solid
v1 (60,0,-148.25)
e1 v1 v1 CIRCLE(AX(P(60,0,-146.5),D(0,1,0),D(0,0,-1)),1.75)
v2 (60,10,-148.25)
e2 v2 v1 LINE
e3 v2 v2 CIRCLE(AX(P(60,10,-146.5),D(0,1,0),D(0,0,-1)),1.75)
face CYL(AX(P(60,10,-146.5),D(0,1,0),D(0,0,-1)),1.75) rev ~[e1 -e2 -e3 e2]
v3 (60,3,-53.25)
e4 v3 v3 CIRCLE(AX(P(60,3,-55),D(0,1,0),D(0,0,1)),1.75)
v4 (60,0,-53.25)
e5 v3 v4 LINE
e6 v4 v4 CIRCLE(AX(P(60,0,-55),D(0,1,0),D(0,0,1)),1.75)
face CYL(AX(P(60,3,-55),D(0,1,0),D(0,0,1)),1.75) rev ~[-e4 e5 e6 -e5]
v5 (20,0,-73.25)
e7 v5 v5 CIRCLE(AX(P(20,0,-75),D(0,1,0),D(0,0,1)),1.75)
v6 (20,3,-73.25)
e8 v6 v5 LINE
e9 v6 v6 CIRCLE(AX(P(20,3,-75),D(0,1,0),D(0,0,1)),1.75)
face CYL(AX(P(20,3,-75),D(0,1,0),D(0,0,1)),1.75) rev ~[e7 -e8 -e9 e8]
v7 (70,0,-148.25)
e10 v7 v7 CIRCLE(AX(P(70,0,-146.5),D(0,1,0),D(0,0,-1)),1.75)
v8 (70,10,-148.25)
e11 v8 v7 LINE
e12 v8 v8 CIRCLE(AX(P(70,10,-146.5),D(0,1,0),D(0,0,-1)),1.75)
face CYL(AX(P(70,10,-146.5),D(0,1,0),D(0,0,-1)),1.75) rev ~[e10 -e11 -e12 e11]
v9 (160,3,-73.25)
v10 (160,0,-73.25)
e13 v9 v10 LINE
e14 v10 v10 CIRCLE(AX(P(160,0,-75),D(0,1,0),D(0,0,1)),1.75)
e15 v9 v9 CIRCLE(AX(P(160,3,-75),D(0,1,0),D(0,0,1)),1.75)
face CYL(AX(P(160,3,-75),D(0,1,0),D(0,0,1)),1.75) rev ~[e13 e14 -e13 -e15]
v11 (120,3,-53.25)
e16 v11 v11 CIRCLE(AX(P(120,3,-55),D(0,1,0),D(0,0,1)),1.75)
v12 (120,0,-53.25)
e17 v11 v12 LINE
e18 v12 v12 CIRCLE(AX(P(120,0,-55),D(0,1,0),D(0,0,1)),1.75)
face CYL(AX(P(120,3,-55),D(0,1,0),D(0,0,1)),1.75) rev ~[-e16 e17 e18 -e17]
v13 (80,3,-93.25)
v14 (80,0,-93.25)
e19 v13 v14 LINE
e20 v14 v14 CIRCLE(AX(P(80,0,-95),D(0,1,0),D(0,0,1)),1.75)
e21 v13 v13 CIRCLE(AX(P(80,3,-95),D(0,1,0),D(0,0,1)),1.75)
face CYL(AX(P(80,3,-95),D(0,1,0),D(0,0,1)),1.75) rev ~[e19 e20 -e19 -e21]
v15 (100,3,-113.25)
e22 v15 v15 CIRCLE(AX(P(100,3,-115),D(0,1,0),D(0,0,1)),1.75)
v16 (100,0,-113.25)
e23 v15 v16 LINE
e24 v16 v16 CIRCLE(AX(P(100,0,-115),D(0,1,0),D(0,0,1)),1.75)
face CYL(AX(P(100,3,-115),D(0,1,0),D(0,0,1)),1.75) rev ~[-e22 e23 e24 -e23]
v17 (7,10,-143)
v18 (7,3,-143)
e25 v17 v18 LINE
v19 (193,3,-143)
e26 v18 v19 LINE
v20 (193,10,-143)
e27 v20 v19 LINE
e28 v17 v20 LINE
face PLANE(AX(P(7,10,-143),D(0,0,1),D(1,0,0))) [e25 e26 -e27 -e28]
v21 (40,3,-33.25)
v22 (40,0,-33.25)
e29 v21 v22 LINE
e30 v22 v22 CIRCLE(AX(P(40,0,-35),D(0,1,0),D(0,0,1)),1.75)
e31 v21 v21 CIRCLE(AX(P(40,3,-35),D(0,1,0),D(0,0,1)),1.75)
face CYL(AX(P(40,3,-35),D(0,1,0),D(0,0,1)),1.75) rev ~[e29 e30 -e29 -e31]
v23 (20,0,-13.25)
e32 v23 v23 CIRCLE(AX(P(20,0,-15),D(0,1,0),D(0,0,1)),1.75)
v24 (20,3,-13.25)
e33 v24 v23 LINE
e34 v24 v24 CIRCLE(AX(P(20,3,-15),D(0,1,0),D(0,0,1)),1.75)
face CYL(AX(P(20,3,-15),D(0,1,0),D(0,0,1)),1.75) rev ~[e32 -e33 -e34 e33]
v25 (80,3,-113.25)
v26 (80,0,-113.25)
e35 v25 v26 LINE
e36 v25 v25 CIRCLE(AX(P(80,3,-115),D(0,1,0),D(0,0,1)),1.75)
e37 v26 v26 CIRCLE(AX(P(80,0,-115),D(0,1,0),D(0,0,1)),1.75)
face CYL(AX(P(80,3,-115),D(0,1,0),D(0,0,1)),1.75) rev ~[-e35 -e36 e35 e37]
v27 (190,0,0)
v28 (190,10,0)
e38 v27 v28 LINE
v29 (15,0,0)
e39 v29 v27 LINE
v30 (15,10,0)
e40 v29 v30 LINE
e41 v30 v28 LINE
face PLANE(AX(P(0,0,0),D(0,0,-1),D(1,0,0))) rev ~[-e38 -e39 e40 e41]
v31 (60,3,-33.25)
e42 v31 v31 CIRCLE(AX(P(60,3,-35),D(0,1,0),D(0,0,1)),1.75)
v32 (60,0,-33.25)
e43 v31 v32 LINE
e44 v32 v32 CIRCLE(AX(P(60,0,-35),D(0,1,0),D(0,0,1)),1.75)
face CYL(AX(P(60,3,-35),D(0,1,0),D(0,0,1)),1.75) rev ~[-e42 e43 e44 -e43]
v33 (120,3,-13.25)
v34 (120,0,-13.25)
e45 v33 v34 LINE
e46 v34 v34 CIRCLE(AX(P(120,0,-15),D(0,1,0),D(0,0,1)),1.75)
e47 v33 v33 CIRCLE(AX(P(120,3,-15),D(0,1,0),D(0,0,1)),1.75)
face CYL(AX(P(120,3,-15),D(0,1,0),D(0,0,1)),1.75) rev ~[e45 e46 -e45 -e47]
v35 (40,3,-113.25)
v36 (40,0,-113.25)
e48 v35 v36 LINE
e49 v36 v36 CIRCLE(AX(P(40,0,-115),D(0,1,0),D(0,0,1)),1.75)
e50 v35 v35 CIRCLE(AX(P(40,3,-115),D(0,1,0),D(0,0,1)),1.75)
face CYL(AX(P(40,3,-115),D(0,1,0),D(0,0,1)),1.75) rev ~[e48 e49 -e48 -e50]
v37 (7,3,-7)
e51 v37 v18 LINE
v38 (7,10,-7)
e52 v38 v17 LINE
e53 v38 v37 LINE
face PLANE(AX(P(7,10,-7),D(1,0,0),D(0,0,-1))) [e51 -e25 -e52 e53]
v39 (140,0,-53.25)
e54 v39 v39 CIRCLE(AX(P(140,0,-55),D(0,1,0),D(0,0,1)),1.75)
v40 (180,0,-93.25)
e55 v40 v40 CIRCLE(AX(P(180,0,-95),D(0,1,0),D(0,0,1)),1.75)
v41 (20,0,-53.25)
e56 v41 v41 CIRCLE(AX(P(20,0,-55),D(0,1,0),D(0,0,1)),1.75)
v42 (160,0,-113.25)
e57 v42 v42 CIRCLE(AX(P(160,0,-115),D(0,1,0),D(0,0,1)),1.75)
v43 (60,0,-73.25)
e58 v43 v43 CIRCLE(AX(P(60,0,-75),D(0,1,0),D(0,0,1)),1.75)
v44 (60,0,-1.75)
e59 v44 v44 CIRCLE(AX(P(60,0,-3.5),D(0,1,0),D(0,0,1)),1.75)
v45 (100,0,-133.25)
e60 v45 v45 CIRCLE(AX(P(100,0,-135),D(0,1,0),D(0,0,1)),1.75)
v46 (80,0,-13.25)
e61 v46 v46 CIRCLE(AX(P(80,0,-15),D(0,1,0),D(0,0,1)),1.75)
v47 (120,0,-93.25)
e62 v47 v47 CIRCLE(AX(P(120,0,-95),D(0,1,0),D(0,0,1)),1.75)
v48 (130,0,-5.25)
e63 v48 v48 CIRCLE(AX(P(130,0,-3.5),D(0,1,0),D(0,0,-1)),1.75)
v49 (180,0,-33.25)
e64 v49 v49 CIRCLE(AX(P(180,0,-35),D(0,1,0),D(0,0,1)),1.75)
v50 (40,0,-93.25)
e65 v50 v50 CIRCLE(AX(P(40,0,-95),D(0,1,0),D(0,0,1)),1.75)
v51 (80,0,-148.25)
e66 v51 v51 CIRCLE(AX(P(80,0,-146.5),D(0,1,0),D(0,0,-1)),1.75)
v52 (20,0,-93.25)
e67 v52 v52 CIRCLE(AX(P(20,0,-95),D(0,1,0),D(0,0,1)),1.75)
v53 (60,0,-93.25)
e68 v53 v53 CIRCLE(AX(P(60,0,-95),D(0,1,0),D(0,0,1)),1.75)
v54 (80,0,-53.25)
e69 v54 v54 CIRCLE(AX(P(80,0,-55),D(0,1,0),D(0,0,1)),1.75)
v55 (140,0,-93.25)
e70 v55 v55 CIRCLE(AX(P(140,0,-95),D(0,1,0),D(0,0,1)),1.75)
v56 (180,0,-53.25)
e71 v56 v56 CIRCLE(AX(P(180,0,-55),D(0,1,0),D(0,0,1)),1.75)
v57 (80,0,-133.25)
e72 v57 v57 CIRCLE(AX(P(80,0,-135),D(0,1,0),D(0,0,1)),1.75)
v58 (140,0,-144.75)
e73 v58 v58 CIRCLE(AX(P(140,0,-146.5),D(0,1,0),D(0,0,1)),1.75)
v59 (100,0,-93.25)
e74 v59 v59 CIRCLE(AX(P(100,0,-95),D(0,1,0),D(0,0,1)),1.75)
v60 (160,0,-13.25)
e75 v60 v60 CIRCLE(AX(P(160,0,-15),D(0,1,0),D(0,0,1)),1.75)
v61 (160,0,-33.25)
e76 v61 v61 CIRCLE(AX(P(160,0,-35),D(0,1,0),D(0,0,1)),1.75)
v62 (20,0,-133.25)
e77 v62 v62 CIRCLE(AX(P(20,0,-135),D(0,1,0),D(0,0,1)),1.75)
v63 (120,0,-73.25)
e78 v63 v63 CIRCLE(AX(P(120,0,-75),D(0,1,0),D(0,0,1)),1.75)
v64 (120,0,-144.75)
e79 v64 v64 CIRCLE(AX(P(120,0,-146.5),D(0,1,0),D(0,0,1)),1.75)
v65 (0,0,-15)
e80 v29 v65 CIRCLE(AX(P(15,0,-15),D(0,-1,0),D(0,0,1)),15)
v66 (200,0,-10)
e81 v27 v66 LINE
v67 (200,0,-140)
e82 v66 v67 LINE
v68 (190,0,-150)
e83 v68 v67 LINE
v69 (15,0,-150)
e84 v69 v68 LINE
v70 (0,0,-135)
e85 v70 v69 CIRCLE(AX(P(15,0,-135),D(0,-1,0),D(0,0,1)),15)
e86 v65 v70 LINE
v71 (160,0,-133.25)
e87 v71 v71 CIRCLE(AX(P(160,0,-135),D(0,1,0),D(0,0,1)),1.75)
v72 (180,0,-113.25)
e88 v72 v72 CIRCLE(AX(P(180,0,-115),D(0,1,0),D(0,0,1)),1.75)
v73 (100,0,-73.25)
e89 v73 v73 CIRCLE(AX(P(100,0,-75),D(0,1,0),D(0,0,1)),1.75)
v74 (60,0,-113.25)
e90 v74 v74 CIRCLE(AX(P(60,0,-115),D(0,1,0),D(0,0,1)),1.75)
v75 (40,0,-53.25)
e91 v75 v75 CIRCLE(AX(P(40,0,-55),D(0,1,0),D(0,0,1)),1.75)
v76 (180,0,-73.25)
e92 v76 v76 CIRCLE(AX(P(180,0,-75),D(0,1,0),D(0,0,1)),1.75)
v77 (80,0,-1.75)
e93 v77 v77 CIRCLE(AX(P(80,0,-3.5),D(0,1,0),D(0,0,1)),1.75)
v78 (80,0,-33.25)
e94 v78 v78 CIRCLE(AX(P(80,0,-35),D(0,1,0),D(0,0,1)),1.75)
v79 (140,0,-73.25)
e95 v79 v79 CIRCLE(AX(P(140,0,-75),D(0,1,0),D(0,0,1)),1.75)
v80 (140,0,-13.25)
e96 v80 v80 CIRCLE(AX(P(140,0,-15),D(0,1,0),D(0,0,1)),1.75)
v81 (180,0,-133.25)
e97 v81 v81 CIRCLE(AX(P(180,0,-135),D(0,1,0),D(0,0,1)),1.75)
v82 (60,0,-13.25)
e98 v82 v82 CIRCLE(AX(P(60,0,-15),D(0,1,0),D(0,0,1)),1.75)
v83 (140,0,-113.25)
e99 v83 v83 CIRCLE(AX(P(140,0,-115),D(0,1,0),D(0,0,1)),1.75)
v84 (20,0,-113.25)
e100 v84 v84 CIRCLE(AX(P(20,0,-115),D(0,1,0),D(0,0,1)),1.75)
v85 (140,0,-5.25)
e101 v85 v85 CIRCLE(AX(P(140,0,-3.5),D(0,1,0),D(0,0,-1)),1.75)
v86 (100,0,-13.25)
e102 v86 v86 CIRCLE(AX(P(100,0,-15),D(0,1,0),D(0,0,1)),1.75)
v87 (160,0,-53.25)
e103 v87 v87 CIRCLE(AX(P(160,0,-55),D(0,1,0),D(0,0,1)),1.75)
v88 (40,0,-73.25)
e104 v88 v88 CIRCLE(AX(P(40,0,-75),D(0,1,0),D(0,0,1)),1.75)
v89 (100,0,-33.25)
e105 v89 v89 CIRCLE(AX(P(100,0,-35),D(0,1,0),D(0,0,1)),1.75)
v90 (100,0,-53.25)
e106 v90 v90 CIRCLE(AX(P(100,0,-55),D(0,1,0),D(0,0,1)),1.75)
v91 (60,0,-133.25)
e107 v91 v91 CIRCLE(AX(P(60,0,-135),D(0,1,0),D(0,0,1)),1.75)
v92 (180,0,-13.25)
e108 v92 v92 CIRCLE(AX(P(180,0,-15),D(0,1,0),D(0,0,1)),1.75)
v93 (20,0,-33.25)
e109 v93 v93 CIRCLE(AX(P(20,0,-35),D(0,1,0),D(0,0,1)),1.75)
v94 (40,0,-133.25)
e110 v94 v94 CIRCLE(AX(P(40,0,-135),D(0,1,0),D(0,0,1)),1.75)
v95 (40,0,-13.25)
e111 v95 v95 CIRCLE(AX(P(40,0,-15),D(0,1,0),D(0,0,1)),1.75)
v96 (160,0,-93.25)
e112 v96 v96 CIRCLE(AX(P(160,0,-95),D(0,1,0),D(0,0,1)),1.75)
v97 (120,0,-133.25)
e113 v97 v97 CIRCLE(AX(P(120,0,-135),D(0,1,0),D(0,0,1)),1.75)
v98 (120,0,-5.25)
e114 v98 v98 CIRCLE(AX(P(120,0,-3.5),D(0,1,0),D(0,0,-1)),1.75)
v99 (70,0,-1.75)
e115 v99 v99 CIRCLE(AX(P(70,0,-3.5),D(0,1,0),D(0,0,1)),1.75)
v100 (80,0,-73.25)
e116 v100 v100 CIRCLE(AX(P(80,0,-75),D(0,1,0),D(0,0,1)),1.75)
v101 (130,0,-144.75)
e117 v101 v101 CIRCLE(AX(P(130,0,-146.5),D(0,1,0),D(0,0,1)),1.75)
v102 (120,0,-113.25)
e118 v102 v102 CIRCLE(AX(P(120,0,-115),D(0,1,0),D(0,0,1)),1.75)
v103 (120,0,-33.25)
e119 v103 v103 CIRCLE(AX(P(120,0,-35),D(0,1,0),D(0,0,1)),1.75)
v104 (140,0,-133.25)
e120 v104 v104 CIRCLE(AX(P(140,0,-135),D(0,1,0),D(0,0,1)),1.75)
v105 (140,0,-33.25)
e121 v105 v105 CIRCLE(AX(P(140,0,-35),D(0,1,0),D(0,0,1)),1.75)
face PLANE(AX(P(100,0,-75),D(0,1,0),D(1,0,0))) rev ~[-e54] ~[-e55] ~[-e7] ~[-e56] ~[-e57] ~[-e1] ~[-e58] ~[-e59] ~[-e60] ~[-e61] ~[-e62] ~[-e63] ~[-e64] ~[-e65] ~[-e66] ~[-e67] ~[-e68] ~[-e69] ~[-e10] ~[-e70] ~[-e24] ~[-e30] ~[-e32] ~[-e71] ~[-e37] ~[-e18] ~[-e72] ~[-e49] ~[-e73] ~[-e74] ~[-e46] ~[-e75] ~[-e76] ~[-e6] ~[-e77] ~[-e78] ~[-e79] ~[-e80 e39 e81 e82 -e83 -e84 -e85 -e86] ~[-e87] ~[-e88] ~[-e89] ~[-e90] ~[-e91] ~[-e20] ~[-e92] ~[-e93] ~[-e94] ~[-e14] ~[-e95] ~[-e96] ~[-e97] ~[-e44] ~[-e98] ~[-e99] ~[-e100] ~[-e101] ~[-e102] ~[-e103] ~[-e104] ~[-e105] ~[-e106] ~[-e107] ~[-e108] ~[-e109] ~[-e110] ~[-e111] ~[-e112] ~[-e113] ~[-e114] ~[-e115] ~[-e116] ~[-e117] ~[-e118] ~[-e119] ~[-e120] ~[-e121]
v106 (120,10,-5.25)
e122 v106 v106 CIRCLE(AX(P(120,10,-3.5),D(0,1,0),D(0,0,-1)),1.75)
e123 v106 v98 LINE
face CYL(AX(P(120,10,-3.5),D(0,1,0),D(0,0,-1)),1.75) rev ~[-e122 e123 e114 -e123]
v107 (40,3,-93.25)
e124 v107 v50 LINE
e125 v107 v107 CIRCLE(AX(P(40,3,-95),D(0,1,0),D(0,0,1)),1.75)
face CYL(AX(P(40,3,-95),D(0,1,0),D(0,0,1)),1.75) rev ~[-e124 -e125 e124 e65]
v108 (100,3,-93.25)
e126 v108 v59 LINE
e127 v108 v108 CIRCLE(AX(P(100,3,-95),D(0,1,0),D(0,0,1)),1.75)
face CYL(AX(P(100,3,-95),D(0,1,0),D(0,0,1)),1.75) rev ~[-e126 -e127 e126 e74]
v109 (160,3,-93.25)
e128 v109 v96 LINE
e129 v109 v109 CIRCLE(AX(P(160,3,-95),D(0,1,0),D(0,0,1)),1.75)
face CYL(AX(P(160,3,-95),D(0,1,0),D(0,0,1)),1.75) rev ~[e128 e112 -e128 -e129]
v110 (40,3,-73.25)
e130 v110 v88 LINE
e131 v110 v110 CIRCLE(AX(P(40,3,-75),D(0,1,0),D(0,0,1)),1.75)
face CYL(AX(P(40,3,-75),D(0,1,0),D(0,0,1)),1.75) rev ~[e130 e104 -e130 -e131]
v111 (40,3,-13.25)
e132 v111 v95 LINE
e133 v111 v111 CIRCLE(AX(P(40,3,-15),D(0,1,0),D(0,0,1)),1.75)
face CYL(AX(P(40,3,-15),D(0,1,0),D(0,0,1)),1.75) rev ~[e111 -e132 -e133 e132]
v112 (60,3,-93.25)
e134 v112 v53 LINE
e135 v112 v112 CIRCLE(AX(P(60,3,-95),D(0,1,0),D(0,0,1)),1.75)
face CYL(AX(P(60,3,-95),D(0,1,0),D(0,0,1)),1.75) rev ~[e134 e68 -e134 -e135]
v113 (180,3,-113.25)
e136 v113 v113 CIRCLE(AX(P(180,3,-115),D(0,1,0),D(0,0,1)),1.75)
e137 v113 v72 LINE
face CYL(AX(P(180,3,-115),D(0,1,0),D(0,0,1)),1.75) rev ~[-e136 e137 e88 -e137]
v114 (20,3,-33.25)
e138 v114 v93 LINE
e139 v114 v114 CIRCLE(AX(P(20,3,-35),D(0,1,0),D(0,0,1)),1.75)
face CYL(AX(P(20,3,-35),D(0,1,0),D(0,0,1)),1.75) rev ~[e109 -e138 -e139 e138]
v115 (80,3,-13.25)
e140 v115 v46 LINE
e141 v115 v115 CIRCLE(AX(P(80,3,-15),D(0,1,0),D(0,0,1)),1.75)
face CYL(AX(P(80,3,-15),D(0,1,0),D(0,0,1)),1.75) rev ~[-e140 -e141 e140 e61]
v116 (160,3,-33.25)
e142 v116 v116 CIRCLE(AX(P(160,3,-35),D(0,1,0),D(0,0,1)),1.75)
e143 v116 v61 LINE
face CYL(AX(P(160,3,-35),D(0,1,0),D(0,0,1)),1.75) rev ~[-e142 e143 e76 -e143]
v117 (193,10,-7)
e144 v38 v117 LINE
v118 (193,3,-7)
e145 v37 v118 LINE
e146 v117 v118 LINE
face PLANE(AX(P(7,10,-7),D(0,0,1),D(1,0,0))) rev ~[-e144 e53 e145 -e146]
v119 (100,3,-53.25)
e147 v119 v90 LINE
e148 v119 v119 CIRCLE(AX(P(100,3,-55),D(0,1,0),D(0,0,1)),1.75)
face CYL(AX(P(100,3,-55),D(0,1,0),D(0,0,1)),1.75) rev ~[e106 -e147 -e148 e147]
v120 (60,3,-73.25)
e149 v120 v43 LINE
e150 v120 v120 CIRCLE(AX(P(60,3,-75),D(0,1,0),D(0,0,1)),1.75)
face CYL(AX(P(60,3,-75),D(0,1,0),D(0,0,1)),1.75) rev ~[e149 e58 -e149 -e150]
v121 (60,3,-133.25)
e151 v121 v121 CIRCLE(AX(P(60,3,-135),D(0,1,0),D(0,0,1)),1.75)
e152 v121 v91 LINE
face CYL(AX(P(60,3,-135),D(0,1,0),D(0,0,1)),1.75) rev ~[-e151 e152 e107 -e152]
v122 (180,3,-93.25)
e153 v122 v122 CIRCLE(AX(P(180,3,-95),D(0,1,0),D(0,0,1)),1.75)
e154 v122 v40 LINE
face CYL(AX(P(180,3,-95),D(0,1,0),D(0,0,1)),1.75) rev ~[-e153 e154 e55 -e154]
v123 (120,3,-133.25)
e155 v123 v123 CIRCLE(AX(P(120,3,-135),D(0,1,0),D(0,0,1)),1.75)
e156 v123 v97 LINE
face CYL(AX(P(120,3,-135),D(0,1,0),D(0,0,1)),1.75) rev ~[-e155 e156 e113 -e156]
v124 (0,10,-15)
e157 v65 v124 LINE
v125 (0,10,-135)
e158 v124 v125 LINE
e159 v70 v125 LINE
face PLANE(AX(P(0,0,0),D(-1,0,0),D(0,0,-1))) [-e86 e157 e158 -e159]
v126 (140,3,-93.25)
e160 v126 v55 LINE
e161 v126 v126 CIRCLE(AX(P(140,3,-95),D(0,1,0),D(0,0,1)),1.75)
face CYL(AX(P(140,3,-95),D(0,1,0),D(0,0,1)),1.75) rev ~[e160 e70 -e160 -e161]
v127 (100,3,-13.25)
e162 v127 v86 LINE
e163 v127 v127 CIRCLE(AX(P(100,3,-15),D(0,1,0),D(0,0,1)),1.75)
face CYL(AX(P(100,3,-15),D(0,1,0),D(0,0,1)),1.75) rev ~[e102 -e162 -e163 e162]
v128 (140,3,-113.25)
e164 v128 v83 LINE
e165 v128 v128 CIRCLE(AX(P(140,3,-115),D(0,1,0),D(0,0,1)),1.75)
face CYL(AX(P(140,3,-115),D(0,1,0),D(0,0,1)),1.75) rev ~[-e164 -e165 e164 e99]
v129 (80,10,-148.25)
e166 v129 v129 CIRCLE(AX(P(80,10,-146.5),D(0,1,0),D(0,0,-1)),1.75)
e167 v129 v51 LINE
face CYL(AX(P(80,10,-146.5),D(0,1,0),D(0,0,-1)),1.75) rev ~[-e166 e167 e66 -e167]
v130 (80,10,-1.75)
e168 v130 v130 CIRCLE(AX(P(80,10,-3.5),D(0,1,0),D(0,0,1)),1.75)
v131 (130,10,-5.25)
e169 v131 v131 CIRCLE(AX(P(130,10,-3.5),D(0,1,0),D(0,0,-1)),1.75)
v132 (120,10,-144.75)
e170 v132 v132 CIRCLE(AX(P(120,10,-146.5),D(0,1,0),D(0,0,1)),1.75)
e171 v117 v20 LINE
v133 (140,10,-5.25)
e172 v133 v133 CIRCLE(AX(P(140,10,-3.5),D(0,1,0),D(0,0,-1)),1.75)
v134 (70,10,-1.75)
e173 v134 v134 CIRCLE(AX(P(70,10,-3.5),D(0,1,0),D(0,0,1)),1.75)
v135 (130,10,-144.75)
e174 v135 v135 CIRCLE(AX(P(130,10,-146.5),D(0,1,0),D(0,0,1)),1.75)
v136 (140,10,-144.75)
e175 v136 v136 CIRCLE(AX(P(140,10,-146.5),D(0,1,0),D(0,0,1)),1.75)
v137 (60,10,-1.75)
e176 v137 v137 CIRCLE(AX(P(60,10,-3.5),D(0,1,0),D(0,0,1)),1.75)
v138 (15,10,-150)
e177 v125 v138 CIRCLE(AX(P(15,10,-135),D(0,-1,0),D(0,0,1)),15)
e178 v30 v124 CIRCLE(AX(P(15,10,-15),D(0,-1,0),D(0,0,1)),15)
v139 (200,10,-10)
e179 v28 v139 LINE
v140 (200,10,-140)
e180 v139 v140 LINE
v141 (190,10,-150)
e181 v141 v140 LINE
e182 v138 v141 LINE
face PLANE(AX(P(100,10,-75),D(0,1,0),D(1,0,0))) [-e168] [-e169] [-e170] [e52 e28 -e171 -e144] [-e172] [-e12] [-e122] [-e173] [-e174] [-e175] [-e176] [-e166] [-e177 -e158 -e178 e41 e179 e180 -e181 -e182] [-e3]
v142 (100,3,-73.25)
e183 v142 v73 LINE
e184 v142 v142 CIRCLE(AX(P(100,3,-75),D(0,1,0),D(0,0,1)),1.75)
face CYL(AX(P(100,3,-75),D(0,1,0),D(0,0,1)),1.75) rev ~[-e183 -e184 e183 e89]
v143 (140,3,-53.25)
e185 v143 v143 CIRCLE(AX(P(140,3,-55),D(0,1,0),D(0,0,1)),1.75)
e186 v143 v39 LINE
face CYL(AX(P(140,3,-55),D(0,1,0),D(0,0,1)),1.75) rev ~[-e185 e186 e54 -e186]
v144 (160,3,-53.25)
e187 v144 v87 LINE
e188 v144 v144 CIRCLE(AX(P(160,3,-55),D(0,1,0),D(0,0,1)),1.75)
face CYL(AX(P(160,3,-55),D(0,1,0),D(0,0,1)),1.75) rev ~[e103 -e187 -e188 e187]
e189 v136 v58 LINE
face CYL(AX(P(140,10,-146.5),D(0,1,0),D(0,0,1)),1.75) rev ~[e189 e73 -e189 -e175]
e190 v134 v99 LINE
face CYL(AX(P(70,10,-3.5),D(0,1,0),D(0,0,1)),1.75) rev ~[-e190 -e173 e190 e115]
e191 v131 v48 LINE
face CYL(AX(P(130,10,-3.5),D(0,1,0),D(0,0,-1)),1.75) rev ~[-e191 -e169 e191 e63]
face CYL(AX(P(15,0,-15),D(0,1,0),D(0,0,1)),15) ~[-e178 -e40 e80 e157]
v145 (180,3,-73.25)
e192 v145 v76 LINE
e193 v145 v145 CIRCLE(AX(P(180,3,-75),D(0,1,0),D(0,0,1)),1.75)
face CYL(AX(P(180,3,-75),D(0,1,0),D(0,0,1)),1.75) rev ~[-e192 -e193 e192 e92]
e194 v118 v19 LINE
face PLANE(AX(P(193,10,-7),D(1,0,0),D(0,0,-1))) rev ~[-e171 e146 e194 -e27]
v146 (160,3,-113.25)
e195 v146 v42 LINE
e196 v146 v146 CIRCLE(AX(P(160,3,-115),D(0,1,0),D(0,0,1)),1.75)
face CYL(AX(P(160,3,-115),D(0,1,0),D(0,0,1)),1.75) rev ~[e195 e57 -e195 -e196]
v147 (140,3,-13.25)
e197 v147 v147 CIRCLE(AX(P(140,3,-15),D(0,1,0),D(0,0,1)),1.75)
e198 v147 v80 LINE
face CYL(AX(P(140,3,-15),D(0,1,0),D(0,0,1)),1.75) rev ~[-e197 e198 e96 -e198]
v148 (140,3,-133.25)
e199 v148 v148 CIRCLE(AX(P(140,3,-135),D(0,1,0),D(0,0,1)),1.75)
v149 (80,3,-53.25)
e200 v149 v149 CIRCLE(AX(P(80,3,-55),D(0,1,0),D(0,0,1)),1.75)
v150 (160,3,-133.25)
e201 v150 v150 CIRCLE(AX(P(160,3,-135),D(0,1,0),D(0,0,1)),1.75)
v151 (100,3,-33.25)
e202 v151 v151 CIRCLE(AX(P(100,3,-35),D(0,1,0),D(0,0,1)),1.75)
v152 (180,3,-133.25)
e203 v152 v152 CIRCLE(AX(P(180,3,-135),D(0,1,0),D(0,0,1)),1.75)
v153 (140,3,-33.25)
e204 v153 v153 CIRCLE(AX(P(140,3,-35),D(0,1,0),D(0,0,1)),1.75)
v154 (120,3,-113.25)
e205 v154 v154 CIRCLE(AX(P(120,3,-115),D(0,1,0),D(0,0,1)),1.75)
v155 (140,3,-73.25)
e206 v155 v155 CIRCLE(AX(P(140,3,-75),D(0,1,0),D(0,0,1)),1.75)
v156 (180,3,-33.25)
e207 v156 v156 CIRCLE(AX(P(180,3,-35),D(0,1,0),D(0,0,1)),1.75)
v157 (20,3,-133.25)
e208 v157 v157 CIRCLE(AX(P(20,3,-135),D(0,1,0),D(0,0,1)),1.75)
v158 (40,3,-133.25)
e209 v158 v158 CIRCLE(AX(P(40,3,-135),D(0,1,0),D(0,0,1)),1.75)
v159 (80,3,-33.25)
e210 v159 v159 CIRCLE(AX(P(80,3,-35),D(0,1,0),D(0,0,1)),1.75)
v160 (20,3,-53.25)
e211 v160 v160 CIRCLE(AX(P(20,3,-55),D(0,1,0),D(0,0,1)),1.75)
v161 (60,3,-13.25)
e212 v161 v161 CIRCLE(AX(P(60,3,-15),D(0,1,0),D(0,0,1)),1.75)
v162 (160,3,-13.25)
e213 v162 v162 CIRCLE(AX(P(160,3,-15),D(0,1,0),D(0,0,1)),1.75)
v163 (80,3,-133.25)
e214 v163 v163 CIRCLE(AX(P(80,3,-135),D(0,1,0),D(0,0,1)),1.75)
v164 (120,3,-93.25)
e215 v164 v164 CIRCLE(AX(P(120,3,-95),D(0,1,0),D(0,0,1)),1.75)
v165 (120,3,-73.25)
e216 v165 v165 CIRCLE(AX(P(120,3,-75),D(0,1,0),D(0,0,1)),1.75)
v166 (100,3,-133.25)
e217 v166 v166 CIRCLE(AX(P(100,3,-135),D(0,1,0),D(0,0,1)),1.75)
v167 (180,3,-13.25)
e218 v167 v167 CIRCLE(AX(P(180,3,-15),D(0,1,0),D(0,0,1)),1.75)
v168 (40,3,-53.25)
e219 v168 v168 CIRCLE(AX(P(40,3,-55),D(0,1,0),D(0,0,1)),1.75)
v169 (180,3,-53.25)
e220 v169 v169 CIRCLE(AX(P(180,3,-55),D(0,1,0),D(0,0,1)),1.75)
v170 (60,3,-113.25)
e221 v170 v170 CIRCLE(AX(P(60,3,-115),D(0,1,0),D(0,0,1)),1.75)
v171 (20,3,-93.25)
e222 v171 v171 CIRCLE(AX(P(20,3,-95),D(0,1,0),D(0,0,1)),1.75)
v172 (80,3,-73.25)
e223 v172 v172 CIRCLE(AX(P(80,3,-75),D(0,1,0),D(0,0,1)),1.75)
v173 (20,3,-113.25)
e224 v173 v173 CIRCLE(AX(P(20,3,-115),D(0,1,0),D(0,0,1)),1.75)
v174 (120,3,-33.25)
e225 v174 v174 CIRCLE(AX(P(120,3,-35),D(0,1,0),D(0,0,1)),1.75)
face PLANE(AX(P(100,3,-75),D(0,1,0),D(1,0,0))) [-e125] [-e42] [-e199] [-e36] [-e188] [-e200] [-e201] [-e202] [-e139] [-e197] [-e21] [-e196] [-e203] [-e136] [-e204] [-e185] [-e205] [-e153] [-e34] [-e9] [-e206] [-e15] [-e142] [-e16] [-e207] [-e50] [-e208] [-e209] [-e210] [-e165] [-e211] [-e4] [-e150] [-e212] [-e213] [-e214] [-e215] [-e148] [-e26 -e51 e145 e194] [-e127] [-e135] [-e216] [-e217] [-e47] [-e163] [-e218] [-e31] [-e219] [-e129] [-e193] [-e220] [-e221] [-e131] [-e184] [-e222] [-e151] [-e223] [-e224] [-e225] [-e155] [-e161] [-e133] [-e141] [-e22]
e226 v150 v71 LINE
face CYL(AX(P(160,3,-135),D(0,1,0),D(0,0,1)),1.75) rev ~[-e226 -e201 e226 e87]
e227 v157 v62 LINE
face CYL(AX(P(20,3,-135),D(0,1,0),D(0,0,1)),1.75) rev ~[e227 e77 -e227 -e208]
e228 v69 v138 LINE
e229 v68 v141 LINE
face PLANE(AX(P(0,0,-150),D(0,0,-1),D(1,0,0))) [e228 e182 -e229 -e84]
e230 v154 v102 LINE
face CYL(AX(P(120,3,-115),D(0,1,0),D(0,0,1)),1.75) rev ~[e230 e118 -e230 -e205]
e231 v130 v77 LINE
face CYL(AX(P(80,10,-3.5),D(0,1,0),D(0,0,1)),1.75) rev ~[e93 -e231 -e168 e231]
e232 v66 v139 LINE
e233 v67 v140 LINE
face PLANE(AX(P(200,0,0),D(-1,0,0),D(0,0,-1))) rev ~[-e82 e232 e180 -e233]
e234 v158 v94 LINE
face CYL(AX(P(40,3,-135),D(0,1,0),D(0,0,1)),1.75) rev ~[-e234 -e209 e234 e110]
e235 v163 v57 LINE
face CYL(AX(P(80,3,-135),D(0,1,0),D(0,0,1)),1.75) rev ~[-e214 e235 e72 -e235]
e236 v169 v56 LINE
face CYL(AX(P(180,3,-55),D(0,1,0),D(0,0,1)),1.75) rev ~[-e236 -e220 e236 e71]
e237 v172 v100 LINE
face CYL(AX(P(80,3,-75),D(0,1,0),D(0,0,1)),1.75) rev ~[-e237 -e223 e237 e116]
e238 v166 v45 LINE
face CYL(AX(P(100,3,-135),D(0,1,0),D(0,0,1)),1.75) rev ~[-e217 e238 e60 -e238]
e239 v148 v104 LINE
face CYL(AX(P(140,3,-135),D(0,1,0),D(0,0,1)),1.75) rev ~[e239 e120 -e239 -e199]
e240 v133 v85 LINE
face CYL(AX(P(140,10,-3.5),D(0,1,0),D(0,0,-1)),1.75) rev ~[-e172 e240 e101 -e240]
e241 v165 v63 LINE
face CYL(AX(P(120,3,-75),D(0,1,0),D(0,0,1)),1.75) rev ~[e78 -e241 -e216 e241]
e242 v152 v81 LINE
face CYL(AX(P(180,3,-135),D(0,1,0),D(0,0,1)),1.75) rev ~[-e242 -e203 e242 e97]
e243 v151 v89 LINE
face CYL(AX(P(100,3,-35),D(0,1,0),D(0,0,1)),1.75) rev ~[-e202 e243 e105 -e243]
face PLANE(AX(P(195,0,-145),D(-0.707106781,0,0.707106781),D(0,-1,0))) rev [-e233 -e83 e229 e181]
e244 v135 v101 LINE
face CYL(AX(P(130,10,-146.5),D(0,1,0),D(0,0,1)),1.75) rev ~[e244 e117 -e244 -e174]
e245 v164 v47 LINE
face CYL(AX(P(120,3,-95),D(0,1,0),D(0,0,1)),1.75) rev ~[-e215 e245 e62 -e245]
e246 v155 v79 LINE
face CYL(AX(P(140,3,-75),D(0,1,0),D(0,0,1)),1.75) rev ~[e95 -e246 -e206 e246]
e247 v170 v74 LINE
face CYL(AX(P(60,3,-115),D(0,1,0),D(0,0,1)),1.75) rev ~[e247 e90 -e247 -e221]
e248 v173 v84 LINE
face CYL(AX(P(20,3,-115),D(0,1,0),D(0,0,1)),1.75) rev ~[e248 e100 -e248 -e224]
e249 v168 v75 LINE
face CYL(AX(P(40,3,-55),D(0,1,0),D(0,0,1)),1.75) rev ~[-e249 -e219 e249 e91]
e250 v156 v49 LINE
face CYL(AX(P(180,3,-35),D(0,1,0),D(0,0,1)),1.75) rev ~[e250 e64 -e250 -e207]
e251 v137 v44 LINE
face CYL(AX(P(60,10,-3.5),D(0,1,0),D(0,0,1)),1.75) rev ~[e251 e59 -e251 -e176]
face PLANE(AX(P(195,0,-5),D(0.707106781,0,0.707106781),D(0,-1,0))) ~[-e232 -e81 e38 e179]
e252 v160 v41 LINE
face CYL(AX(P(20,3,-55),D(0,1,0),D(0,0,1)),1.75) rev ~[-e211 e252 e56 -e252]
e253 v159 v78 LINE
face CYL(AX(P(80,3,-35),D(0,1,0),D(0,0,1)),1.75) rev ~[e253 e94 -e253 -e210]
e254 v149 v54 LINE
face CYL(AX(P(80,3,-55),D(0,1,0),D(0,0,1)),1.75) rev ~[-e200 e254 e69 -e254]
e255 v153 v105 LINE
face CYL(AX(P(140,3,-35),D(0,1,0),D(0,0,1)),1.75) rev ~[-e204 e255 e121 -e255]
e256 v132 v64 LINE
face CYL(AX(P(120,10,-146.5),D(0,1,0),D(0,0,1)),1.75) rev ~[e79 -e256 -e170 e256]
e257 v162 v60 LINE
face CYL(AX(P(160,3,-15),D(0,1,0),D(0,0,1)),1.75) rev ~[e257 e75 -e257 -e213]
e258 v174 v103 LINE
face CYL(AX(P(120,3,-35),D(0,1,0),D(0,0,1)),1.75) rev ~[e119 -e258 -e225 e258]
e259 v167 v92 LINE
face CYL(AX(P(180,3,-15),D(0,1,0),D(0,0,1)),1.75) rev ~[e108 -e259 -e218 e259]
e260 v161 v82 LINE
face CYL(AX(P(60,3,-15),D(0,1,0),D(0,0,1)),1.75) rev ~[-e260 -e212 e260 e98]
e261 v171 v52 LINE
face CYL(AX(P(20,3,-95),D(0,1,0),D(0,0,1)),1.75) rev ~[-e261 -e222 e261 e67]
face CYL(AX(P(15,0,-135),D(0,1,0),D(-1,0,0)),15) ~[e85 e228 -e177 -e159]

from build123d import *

# Parameters (mm, degrees)
SKETCH1_W                   = 200
SKETCH1_H                   = 150
CHASIS_DEPTH                = 10
SKETCH2_W                   = 186
SKETCH2_H                   = 136
CHASIS_EDGE_DEPTH           = 7
HOLE_PATTERN_R              = 1.75
GENERAL_PURPOSE_HOLES_DEPTH = 251.0979808
SKETCH16_R                  = 1.75
CUT_EXTRUDE4_DEPTH          = 251.199920064
CHAMFER2_SIZE               = 10
FILLET2_R                   = 15


with BuildPart() as part:
    # Sketch1 → Chasis (new body)
    with BuildSketch(Plane(origin=(0, 0, 0), x_dir=(1, 0, 0), z_dir=(0, 1, 0))):
        with Locations((100, 75)):
            Rectangle(SKETCH1_W, SKETCH1_H)
    extrude(amount=CHASIS_DEPTH)

    # Sketch2 → Chasis Edge (cut)
    with BuildSketch(Plane(origin=(0, 10, 0), x_dir=(1, 0, 0), z_dir=(0, 1, 0))):
        with Locations((100, 75)):
            Rectangle(SKETCH2_W, SKETCH2_H)
    extrude(amount=-CHASIS_EDGE_DEPTH, mode=Mode.SUBTRACT)

    # Hole Pattern → General Purpose Holes (cut, through all)
    with BuildSketch(Plane(origin=(0, 3, 0), x_dir=(1, 0, 0), z_dir=(0, 1, 0))):
        with Locations(Location((20, 135, 0), (0, 0, 270))):
            Circle(HOLE_PATTERN_R)
        with Locations(Location((40, 135, 0), (0, 0, 270))):
            Circle(HOLE_PATTERN_R)
        with Locations(Location((60, 135, 0), (0, 0, 270))):
            Circle(HOLE_PATTERN_R)
        with Locations(Location((80, 135, 0), (0, 0, 270))):
            Circle(HOLE_PATTERN_R)
        with Locations(Location((100, 135, 0), (0, 0, 270))):
            Circle(HOLE_PATTERN_R)
        with Locations(Location((120, 135, 0), (0, 0, 270))):
            Circle(HOLE_PATTERN_R)
        with Locations(Location((140, 135, 0), (0, 0, 270))):
            Circle(HOLE_PATTERN_R)
        with Locations(Location((160, 135, 0), (0, 0, 270))):
            Circle(HOLE_PATTERN_R)
        with Locations(Location((180, 135, 0), (0, 0, 270))):
            Circle(HOLE_PATTERN_R)
        with Locations(Location((20, 115, 0), (0, 0, 270))):
            Circle(HOLE_PATTERN_R)
        with Locations(Location((40, 115, 0), (0, 0, 270))):
            Circle(HOLE_PATTERN_R)
        with Locations(Location((60, 115, 0), (0, 0, 270))):
            Circle(HOLE_PATTERN_R)
        with Locations(Location((80, 115, 0), (0, 0, 270))):
            Circle(HOLE_PATTERN_R)
        with Locations(Location((100, 115, 0), (0, 0, 270))):
            Circle(HOLE_PATTERN_R)
        with Locations(Location((120, 115, 0), (0, 0, 270))):
            Circle(HOLE_PATTERN_R)
        with Locations(Location((140, 115, 0), (0, 0, 270))):
            Circle(HOLE_PATTERN_R)
        with Locations(Location((160, 115, 0), (0, 0, 270))):
            Circle(HOLE_PATTERN_R)
        with Locations(Location((180, 115, 0), (0, 0, 270))):
            Circle(HOLE_PATTERN_R)
        with Locations(Location((20, 95, 0), (0, 0, 270))):
            Circle(HOLE_PATTERN_R)
        with Locations(Location((40, 95, 0), (0, 0, 270))):
            Circle(HOLE_PATTERN_R)
        with Locations(Location((60, 95, 0), (0, 0, 270))):
            Circle(HOLE_PATTERN_R)
        with Locations(Location((80, 95, 0), (0, 0, 270))):
            Circle(HOLE_PATTERN_R)
        with Locations(Location((100, 95, 0), (0, 0, 270))):
            Circle(HOLE_PATTERN_R)
        with Locations(Location((120, 95, 0), (0, 0, 270))):
            Circle(HOLE_PATTERN_R)
        with Locations(Location((140, 95, 0), (0, 0, 270))):
            Circle(HOLE_PATTERN_R)
        with Locations(Location((160, 95, 0), (0, 0, 270))):
            Circle(HOLE_PATTERN_R)
        with Locations(Location((180, 95, 0), (0, 0, 270))):
            Circle(HOLE_PATTERN_R)
        with Locations(Location((20, 75, 0), (0, 0, 270))):
            Circle(HOLE_PATTERN_R)
        with Locations(Location((40, 75, 0), (0, 0, 270))):
            Circle(HOLE_PATTERN_R)
        with Locations(Location((60, 75, 0), (0, 0, 270))):
            Circle(HOLE_PATTERN_R)
        with Locations(Location((80, 75, 0), (0, 0, 270))):
            Circle(HOLE_PATTERN_R)
        with Locations(Location((100, 75, 0), (0, 0, 270))):
            Circle(HOLE_PATTERN_R)
        with Locations(Location((120, 75, 0), (0, 0, 270))):
            Circle(HOLE_PATTERN_R)
        with Locations(Location((140, 75, 0), (0, 0, 270))):
            Circle(HOLE_PATTERN_R)
        with Locations(Location((160, 75, 0), (0, 0, 270))):
            Circle(HOLE_PATTERN_R)
        with Locations(Location((180, 75, 0), (0, 0, 270))):
            Circle(HOLE_PATTERN_R)
        with Locations(Location((20, 55, 0), (0, 0, 270))):
            Circle(HOLE_PATTERN_R)
        with Locations(Location((40, 55, 0), (0, 0, 270))):
            Circle(HOLE_PATTERN_R)
        with Locations(Location((60, 55, 0), (0, 0, 270))):
            Circle(HOLE_PATTERN_R)
        with Locations(Location((80, 55, 0), (0, 0, 270))):
            Circle(HOLE_PATTERN_R)
        with Locations(Location((100, 55, 0), (0, 0, 270))):
            Circle(HOLE_PATTERN_R)
        with Locations(Location((120, 55, 0), (0, 0, 270))):
            Circle(HOLE_PATTERN_R)
        with Locations(Location((140, 55, 0), (0, 0, 270))):
            Circle(HOLE_PATTERN_R)
        with Locations(Location((160, 55, 0), (0, 0, 270))):
            Circle(HOLE_PATTERN_R)
        with Locations(Location((180, 55, 0), (0, 0, 270))):
            Circle(HOLE_PATTERN_R)
        with Locations(Location((20, 35, 0), (0, 0, 270))):
            Circle(HOLE_PATTERN_R)
        with Locations(Location((40, 35, 0), (0, 0, 270))):
            Circle(HOLE_PATTERN_R)
        with Locations(Location((60, 35, 0), (0, 0, 270))):
            Circle(HOLE_PATTERN_R)
        with Locations(Location((80, 35, 0), (0, 0, 270))):
            Circle(HOLE_PATTERN_R)
        with Locations(Location((100, 35, 0), (0, 0, 270))):
            Circle(HOLE_PATTERN_R)
        with Locations(Location((120, 35, 0), (0, 0, 270))):
            Circle(HOLE_PATTERN_R)
        with Locations(Location((140, 35, 0), (0, 0, 270))):
            Circle(HOLE_PATTERN_R)
        with Locations(Location((160, 35, 0), (0, 0, 270))):
            Circle(HOLE_PATTERN_R)
        with Locations(Location((180, 35, 0), (0, 0, 270))):
            Circle(HOLE_PATTERN_R)
        with Locations(Location((20, 15, 0), (0, 0, 270))):
            Circle(HOLE_PATTERN_R)
        with Locations(Location((40, 15, 0), (0, 0, 270))):
            Circle(HOLE_PATTERN_R)
        with Locations(Location((60, 15, 0), (0, 0, 270))):
            Circle(HOLE_PATTERN_R)
        with Locations(Location((80, 15, 0), (0, 0, 270))):
            Circle(HOLE_PATTERN_R)
        with Locations(Location((100, 15, 0), (0, 0, 270))):
            Circle(HOLE_PATTERN_R)
        with Locations(Location((120, 15, 0), (0, 0, 270))):
            Circle(HOLE_PATTERN_R)
        with Locations(Location((140, 15, 0), (0, 0, 270))):
            Circle(HOLE_PATTERN_R)
        with Locations(Location((160, 15, 0), (0, 0, 270))):
            Circle(HOLE_PATTERN_R)
        with Locations(Location((180, 15, 0), (0, 0, 270))):
            Circle(HOLE_PATTERN_R)
    extrude(amount=-GENERAL_PURPOSE_HOLES_DEPTH, mode=Mode.SUBTRACT)

    # Sketch16 → Cut-Extrude4 (cut, through all)
    with BuildSketch(Plane(origin=(0, 10, 0), x_dir=(1, 0, 0), z_dir=(0, 1, 0))):
        with Locations(Location((130, 146.5, 0), (0, 0, 270))):
            Circle(SKETCH16_R)
        with Locations(Location((120, 146.5, 0), (0, 0, 270))):
            Circle(SKETCH16_R)
        with Locations(Location((140, 146.5, 0), (0, 0, 270))):
            Circle(SKETCH16_R)
        with Locations(Location((140, 3.5, 0), (0, 0, 90))):
            Circle(SKETCH16_R)
        with Locations(Location((120, 3.5, 0), (0, 0, 90))):
            Circle(SKETCH16_R)
        with Locations(Location((130, 3.5, 0), (0, 0, 90))):
            Circle(SKETCH16_R)
        with Locations(Location((70, 3.5, 0), (0, 0, 270))):
            Circle(SKETCH16_R)
        with Locations(Location((80, 3.5, 0), (0, 0, 270))):
            Circle(SKETCH16_R)
        with Locations(Location((60, 3.5, 0), (0, 0, 270))):
            Circle(SKETCH16_R)
        with Locations(Location((60, 146.5, 0), (0, 0, 90))):
            Circle(SKETCH16_R)
        with Locations(Location((80, 146.5, 0), (0, 0, 90))):
            Circle(SKETCH16_R)
        with Locations(Location((70, 146.5, 0), (0, 0, 90))):
            Circle(SKETCH16_R)
    extrude(amount=-CUT_EXTRUDE4_DEPTH, mode=Mode.SUBTRACT)

    # Chamfer2
    chamfer2_edges = [part.edges().sort_by_distance(p)[0] for p in [
        (200, 5, -150),
        (200, 5, 0),
    ]]
    chamfer(chamfer2_edges, length=CHAMFER2_SIZE)

    # Fillet2
    fillet2_edges = [part.edges().sort_by_distance(p)[0] for p in [
        (0, 5, -150),
        (0, 5, 0),
    ]]
    fillet(fillet2_edges, radius=FILLET2_R)


solid = part.part
